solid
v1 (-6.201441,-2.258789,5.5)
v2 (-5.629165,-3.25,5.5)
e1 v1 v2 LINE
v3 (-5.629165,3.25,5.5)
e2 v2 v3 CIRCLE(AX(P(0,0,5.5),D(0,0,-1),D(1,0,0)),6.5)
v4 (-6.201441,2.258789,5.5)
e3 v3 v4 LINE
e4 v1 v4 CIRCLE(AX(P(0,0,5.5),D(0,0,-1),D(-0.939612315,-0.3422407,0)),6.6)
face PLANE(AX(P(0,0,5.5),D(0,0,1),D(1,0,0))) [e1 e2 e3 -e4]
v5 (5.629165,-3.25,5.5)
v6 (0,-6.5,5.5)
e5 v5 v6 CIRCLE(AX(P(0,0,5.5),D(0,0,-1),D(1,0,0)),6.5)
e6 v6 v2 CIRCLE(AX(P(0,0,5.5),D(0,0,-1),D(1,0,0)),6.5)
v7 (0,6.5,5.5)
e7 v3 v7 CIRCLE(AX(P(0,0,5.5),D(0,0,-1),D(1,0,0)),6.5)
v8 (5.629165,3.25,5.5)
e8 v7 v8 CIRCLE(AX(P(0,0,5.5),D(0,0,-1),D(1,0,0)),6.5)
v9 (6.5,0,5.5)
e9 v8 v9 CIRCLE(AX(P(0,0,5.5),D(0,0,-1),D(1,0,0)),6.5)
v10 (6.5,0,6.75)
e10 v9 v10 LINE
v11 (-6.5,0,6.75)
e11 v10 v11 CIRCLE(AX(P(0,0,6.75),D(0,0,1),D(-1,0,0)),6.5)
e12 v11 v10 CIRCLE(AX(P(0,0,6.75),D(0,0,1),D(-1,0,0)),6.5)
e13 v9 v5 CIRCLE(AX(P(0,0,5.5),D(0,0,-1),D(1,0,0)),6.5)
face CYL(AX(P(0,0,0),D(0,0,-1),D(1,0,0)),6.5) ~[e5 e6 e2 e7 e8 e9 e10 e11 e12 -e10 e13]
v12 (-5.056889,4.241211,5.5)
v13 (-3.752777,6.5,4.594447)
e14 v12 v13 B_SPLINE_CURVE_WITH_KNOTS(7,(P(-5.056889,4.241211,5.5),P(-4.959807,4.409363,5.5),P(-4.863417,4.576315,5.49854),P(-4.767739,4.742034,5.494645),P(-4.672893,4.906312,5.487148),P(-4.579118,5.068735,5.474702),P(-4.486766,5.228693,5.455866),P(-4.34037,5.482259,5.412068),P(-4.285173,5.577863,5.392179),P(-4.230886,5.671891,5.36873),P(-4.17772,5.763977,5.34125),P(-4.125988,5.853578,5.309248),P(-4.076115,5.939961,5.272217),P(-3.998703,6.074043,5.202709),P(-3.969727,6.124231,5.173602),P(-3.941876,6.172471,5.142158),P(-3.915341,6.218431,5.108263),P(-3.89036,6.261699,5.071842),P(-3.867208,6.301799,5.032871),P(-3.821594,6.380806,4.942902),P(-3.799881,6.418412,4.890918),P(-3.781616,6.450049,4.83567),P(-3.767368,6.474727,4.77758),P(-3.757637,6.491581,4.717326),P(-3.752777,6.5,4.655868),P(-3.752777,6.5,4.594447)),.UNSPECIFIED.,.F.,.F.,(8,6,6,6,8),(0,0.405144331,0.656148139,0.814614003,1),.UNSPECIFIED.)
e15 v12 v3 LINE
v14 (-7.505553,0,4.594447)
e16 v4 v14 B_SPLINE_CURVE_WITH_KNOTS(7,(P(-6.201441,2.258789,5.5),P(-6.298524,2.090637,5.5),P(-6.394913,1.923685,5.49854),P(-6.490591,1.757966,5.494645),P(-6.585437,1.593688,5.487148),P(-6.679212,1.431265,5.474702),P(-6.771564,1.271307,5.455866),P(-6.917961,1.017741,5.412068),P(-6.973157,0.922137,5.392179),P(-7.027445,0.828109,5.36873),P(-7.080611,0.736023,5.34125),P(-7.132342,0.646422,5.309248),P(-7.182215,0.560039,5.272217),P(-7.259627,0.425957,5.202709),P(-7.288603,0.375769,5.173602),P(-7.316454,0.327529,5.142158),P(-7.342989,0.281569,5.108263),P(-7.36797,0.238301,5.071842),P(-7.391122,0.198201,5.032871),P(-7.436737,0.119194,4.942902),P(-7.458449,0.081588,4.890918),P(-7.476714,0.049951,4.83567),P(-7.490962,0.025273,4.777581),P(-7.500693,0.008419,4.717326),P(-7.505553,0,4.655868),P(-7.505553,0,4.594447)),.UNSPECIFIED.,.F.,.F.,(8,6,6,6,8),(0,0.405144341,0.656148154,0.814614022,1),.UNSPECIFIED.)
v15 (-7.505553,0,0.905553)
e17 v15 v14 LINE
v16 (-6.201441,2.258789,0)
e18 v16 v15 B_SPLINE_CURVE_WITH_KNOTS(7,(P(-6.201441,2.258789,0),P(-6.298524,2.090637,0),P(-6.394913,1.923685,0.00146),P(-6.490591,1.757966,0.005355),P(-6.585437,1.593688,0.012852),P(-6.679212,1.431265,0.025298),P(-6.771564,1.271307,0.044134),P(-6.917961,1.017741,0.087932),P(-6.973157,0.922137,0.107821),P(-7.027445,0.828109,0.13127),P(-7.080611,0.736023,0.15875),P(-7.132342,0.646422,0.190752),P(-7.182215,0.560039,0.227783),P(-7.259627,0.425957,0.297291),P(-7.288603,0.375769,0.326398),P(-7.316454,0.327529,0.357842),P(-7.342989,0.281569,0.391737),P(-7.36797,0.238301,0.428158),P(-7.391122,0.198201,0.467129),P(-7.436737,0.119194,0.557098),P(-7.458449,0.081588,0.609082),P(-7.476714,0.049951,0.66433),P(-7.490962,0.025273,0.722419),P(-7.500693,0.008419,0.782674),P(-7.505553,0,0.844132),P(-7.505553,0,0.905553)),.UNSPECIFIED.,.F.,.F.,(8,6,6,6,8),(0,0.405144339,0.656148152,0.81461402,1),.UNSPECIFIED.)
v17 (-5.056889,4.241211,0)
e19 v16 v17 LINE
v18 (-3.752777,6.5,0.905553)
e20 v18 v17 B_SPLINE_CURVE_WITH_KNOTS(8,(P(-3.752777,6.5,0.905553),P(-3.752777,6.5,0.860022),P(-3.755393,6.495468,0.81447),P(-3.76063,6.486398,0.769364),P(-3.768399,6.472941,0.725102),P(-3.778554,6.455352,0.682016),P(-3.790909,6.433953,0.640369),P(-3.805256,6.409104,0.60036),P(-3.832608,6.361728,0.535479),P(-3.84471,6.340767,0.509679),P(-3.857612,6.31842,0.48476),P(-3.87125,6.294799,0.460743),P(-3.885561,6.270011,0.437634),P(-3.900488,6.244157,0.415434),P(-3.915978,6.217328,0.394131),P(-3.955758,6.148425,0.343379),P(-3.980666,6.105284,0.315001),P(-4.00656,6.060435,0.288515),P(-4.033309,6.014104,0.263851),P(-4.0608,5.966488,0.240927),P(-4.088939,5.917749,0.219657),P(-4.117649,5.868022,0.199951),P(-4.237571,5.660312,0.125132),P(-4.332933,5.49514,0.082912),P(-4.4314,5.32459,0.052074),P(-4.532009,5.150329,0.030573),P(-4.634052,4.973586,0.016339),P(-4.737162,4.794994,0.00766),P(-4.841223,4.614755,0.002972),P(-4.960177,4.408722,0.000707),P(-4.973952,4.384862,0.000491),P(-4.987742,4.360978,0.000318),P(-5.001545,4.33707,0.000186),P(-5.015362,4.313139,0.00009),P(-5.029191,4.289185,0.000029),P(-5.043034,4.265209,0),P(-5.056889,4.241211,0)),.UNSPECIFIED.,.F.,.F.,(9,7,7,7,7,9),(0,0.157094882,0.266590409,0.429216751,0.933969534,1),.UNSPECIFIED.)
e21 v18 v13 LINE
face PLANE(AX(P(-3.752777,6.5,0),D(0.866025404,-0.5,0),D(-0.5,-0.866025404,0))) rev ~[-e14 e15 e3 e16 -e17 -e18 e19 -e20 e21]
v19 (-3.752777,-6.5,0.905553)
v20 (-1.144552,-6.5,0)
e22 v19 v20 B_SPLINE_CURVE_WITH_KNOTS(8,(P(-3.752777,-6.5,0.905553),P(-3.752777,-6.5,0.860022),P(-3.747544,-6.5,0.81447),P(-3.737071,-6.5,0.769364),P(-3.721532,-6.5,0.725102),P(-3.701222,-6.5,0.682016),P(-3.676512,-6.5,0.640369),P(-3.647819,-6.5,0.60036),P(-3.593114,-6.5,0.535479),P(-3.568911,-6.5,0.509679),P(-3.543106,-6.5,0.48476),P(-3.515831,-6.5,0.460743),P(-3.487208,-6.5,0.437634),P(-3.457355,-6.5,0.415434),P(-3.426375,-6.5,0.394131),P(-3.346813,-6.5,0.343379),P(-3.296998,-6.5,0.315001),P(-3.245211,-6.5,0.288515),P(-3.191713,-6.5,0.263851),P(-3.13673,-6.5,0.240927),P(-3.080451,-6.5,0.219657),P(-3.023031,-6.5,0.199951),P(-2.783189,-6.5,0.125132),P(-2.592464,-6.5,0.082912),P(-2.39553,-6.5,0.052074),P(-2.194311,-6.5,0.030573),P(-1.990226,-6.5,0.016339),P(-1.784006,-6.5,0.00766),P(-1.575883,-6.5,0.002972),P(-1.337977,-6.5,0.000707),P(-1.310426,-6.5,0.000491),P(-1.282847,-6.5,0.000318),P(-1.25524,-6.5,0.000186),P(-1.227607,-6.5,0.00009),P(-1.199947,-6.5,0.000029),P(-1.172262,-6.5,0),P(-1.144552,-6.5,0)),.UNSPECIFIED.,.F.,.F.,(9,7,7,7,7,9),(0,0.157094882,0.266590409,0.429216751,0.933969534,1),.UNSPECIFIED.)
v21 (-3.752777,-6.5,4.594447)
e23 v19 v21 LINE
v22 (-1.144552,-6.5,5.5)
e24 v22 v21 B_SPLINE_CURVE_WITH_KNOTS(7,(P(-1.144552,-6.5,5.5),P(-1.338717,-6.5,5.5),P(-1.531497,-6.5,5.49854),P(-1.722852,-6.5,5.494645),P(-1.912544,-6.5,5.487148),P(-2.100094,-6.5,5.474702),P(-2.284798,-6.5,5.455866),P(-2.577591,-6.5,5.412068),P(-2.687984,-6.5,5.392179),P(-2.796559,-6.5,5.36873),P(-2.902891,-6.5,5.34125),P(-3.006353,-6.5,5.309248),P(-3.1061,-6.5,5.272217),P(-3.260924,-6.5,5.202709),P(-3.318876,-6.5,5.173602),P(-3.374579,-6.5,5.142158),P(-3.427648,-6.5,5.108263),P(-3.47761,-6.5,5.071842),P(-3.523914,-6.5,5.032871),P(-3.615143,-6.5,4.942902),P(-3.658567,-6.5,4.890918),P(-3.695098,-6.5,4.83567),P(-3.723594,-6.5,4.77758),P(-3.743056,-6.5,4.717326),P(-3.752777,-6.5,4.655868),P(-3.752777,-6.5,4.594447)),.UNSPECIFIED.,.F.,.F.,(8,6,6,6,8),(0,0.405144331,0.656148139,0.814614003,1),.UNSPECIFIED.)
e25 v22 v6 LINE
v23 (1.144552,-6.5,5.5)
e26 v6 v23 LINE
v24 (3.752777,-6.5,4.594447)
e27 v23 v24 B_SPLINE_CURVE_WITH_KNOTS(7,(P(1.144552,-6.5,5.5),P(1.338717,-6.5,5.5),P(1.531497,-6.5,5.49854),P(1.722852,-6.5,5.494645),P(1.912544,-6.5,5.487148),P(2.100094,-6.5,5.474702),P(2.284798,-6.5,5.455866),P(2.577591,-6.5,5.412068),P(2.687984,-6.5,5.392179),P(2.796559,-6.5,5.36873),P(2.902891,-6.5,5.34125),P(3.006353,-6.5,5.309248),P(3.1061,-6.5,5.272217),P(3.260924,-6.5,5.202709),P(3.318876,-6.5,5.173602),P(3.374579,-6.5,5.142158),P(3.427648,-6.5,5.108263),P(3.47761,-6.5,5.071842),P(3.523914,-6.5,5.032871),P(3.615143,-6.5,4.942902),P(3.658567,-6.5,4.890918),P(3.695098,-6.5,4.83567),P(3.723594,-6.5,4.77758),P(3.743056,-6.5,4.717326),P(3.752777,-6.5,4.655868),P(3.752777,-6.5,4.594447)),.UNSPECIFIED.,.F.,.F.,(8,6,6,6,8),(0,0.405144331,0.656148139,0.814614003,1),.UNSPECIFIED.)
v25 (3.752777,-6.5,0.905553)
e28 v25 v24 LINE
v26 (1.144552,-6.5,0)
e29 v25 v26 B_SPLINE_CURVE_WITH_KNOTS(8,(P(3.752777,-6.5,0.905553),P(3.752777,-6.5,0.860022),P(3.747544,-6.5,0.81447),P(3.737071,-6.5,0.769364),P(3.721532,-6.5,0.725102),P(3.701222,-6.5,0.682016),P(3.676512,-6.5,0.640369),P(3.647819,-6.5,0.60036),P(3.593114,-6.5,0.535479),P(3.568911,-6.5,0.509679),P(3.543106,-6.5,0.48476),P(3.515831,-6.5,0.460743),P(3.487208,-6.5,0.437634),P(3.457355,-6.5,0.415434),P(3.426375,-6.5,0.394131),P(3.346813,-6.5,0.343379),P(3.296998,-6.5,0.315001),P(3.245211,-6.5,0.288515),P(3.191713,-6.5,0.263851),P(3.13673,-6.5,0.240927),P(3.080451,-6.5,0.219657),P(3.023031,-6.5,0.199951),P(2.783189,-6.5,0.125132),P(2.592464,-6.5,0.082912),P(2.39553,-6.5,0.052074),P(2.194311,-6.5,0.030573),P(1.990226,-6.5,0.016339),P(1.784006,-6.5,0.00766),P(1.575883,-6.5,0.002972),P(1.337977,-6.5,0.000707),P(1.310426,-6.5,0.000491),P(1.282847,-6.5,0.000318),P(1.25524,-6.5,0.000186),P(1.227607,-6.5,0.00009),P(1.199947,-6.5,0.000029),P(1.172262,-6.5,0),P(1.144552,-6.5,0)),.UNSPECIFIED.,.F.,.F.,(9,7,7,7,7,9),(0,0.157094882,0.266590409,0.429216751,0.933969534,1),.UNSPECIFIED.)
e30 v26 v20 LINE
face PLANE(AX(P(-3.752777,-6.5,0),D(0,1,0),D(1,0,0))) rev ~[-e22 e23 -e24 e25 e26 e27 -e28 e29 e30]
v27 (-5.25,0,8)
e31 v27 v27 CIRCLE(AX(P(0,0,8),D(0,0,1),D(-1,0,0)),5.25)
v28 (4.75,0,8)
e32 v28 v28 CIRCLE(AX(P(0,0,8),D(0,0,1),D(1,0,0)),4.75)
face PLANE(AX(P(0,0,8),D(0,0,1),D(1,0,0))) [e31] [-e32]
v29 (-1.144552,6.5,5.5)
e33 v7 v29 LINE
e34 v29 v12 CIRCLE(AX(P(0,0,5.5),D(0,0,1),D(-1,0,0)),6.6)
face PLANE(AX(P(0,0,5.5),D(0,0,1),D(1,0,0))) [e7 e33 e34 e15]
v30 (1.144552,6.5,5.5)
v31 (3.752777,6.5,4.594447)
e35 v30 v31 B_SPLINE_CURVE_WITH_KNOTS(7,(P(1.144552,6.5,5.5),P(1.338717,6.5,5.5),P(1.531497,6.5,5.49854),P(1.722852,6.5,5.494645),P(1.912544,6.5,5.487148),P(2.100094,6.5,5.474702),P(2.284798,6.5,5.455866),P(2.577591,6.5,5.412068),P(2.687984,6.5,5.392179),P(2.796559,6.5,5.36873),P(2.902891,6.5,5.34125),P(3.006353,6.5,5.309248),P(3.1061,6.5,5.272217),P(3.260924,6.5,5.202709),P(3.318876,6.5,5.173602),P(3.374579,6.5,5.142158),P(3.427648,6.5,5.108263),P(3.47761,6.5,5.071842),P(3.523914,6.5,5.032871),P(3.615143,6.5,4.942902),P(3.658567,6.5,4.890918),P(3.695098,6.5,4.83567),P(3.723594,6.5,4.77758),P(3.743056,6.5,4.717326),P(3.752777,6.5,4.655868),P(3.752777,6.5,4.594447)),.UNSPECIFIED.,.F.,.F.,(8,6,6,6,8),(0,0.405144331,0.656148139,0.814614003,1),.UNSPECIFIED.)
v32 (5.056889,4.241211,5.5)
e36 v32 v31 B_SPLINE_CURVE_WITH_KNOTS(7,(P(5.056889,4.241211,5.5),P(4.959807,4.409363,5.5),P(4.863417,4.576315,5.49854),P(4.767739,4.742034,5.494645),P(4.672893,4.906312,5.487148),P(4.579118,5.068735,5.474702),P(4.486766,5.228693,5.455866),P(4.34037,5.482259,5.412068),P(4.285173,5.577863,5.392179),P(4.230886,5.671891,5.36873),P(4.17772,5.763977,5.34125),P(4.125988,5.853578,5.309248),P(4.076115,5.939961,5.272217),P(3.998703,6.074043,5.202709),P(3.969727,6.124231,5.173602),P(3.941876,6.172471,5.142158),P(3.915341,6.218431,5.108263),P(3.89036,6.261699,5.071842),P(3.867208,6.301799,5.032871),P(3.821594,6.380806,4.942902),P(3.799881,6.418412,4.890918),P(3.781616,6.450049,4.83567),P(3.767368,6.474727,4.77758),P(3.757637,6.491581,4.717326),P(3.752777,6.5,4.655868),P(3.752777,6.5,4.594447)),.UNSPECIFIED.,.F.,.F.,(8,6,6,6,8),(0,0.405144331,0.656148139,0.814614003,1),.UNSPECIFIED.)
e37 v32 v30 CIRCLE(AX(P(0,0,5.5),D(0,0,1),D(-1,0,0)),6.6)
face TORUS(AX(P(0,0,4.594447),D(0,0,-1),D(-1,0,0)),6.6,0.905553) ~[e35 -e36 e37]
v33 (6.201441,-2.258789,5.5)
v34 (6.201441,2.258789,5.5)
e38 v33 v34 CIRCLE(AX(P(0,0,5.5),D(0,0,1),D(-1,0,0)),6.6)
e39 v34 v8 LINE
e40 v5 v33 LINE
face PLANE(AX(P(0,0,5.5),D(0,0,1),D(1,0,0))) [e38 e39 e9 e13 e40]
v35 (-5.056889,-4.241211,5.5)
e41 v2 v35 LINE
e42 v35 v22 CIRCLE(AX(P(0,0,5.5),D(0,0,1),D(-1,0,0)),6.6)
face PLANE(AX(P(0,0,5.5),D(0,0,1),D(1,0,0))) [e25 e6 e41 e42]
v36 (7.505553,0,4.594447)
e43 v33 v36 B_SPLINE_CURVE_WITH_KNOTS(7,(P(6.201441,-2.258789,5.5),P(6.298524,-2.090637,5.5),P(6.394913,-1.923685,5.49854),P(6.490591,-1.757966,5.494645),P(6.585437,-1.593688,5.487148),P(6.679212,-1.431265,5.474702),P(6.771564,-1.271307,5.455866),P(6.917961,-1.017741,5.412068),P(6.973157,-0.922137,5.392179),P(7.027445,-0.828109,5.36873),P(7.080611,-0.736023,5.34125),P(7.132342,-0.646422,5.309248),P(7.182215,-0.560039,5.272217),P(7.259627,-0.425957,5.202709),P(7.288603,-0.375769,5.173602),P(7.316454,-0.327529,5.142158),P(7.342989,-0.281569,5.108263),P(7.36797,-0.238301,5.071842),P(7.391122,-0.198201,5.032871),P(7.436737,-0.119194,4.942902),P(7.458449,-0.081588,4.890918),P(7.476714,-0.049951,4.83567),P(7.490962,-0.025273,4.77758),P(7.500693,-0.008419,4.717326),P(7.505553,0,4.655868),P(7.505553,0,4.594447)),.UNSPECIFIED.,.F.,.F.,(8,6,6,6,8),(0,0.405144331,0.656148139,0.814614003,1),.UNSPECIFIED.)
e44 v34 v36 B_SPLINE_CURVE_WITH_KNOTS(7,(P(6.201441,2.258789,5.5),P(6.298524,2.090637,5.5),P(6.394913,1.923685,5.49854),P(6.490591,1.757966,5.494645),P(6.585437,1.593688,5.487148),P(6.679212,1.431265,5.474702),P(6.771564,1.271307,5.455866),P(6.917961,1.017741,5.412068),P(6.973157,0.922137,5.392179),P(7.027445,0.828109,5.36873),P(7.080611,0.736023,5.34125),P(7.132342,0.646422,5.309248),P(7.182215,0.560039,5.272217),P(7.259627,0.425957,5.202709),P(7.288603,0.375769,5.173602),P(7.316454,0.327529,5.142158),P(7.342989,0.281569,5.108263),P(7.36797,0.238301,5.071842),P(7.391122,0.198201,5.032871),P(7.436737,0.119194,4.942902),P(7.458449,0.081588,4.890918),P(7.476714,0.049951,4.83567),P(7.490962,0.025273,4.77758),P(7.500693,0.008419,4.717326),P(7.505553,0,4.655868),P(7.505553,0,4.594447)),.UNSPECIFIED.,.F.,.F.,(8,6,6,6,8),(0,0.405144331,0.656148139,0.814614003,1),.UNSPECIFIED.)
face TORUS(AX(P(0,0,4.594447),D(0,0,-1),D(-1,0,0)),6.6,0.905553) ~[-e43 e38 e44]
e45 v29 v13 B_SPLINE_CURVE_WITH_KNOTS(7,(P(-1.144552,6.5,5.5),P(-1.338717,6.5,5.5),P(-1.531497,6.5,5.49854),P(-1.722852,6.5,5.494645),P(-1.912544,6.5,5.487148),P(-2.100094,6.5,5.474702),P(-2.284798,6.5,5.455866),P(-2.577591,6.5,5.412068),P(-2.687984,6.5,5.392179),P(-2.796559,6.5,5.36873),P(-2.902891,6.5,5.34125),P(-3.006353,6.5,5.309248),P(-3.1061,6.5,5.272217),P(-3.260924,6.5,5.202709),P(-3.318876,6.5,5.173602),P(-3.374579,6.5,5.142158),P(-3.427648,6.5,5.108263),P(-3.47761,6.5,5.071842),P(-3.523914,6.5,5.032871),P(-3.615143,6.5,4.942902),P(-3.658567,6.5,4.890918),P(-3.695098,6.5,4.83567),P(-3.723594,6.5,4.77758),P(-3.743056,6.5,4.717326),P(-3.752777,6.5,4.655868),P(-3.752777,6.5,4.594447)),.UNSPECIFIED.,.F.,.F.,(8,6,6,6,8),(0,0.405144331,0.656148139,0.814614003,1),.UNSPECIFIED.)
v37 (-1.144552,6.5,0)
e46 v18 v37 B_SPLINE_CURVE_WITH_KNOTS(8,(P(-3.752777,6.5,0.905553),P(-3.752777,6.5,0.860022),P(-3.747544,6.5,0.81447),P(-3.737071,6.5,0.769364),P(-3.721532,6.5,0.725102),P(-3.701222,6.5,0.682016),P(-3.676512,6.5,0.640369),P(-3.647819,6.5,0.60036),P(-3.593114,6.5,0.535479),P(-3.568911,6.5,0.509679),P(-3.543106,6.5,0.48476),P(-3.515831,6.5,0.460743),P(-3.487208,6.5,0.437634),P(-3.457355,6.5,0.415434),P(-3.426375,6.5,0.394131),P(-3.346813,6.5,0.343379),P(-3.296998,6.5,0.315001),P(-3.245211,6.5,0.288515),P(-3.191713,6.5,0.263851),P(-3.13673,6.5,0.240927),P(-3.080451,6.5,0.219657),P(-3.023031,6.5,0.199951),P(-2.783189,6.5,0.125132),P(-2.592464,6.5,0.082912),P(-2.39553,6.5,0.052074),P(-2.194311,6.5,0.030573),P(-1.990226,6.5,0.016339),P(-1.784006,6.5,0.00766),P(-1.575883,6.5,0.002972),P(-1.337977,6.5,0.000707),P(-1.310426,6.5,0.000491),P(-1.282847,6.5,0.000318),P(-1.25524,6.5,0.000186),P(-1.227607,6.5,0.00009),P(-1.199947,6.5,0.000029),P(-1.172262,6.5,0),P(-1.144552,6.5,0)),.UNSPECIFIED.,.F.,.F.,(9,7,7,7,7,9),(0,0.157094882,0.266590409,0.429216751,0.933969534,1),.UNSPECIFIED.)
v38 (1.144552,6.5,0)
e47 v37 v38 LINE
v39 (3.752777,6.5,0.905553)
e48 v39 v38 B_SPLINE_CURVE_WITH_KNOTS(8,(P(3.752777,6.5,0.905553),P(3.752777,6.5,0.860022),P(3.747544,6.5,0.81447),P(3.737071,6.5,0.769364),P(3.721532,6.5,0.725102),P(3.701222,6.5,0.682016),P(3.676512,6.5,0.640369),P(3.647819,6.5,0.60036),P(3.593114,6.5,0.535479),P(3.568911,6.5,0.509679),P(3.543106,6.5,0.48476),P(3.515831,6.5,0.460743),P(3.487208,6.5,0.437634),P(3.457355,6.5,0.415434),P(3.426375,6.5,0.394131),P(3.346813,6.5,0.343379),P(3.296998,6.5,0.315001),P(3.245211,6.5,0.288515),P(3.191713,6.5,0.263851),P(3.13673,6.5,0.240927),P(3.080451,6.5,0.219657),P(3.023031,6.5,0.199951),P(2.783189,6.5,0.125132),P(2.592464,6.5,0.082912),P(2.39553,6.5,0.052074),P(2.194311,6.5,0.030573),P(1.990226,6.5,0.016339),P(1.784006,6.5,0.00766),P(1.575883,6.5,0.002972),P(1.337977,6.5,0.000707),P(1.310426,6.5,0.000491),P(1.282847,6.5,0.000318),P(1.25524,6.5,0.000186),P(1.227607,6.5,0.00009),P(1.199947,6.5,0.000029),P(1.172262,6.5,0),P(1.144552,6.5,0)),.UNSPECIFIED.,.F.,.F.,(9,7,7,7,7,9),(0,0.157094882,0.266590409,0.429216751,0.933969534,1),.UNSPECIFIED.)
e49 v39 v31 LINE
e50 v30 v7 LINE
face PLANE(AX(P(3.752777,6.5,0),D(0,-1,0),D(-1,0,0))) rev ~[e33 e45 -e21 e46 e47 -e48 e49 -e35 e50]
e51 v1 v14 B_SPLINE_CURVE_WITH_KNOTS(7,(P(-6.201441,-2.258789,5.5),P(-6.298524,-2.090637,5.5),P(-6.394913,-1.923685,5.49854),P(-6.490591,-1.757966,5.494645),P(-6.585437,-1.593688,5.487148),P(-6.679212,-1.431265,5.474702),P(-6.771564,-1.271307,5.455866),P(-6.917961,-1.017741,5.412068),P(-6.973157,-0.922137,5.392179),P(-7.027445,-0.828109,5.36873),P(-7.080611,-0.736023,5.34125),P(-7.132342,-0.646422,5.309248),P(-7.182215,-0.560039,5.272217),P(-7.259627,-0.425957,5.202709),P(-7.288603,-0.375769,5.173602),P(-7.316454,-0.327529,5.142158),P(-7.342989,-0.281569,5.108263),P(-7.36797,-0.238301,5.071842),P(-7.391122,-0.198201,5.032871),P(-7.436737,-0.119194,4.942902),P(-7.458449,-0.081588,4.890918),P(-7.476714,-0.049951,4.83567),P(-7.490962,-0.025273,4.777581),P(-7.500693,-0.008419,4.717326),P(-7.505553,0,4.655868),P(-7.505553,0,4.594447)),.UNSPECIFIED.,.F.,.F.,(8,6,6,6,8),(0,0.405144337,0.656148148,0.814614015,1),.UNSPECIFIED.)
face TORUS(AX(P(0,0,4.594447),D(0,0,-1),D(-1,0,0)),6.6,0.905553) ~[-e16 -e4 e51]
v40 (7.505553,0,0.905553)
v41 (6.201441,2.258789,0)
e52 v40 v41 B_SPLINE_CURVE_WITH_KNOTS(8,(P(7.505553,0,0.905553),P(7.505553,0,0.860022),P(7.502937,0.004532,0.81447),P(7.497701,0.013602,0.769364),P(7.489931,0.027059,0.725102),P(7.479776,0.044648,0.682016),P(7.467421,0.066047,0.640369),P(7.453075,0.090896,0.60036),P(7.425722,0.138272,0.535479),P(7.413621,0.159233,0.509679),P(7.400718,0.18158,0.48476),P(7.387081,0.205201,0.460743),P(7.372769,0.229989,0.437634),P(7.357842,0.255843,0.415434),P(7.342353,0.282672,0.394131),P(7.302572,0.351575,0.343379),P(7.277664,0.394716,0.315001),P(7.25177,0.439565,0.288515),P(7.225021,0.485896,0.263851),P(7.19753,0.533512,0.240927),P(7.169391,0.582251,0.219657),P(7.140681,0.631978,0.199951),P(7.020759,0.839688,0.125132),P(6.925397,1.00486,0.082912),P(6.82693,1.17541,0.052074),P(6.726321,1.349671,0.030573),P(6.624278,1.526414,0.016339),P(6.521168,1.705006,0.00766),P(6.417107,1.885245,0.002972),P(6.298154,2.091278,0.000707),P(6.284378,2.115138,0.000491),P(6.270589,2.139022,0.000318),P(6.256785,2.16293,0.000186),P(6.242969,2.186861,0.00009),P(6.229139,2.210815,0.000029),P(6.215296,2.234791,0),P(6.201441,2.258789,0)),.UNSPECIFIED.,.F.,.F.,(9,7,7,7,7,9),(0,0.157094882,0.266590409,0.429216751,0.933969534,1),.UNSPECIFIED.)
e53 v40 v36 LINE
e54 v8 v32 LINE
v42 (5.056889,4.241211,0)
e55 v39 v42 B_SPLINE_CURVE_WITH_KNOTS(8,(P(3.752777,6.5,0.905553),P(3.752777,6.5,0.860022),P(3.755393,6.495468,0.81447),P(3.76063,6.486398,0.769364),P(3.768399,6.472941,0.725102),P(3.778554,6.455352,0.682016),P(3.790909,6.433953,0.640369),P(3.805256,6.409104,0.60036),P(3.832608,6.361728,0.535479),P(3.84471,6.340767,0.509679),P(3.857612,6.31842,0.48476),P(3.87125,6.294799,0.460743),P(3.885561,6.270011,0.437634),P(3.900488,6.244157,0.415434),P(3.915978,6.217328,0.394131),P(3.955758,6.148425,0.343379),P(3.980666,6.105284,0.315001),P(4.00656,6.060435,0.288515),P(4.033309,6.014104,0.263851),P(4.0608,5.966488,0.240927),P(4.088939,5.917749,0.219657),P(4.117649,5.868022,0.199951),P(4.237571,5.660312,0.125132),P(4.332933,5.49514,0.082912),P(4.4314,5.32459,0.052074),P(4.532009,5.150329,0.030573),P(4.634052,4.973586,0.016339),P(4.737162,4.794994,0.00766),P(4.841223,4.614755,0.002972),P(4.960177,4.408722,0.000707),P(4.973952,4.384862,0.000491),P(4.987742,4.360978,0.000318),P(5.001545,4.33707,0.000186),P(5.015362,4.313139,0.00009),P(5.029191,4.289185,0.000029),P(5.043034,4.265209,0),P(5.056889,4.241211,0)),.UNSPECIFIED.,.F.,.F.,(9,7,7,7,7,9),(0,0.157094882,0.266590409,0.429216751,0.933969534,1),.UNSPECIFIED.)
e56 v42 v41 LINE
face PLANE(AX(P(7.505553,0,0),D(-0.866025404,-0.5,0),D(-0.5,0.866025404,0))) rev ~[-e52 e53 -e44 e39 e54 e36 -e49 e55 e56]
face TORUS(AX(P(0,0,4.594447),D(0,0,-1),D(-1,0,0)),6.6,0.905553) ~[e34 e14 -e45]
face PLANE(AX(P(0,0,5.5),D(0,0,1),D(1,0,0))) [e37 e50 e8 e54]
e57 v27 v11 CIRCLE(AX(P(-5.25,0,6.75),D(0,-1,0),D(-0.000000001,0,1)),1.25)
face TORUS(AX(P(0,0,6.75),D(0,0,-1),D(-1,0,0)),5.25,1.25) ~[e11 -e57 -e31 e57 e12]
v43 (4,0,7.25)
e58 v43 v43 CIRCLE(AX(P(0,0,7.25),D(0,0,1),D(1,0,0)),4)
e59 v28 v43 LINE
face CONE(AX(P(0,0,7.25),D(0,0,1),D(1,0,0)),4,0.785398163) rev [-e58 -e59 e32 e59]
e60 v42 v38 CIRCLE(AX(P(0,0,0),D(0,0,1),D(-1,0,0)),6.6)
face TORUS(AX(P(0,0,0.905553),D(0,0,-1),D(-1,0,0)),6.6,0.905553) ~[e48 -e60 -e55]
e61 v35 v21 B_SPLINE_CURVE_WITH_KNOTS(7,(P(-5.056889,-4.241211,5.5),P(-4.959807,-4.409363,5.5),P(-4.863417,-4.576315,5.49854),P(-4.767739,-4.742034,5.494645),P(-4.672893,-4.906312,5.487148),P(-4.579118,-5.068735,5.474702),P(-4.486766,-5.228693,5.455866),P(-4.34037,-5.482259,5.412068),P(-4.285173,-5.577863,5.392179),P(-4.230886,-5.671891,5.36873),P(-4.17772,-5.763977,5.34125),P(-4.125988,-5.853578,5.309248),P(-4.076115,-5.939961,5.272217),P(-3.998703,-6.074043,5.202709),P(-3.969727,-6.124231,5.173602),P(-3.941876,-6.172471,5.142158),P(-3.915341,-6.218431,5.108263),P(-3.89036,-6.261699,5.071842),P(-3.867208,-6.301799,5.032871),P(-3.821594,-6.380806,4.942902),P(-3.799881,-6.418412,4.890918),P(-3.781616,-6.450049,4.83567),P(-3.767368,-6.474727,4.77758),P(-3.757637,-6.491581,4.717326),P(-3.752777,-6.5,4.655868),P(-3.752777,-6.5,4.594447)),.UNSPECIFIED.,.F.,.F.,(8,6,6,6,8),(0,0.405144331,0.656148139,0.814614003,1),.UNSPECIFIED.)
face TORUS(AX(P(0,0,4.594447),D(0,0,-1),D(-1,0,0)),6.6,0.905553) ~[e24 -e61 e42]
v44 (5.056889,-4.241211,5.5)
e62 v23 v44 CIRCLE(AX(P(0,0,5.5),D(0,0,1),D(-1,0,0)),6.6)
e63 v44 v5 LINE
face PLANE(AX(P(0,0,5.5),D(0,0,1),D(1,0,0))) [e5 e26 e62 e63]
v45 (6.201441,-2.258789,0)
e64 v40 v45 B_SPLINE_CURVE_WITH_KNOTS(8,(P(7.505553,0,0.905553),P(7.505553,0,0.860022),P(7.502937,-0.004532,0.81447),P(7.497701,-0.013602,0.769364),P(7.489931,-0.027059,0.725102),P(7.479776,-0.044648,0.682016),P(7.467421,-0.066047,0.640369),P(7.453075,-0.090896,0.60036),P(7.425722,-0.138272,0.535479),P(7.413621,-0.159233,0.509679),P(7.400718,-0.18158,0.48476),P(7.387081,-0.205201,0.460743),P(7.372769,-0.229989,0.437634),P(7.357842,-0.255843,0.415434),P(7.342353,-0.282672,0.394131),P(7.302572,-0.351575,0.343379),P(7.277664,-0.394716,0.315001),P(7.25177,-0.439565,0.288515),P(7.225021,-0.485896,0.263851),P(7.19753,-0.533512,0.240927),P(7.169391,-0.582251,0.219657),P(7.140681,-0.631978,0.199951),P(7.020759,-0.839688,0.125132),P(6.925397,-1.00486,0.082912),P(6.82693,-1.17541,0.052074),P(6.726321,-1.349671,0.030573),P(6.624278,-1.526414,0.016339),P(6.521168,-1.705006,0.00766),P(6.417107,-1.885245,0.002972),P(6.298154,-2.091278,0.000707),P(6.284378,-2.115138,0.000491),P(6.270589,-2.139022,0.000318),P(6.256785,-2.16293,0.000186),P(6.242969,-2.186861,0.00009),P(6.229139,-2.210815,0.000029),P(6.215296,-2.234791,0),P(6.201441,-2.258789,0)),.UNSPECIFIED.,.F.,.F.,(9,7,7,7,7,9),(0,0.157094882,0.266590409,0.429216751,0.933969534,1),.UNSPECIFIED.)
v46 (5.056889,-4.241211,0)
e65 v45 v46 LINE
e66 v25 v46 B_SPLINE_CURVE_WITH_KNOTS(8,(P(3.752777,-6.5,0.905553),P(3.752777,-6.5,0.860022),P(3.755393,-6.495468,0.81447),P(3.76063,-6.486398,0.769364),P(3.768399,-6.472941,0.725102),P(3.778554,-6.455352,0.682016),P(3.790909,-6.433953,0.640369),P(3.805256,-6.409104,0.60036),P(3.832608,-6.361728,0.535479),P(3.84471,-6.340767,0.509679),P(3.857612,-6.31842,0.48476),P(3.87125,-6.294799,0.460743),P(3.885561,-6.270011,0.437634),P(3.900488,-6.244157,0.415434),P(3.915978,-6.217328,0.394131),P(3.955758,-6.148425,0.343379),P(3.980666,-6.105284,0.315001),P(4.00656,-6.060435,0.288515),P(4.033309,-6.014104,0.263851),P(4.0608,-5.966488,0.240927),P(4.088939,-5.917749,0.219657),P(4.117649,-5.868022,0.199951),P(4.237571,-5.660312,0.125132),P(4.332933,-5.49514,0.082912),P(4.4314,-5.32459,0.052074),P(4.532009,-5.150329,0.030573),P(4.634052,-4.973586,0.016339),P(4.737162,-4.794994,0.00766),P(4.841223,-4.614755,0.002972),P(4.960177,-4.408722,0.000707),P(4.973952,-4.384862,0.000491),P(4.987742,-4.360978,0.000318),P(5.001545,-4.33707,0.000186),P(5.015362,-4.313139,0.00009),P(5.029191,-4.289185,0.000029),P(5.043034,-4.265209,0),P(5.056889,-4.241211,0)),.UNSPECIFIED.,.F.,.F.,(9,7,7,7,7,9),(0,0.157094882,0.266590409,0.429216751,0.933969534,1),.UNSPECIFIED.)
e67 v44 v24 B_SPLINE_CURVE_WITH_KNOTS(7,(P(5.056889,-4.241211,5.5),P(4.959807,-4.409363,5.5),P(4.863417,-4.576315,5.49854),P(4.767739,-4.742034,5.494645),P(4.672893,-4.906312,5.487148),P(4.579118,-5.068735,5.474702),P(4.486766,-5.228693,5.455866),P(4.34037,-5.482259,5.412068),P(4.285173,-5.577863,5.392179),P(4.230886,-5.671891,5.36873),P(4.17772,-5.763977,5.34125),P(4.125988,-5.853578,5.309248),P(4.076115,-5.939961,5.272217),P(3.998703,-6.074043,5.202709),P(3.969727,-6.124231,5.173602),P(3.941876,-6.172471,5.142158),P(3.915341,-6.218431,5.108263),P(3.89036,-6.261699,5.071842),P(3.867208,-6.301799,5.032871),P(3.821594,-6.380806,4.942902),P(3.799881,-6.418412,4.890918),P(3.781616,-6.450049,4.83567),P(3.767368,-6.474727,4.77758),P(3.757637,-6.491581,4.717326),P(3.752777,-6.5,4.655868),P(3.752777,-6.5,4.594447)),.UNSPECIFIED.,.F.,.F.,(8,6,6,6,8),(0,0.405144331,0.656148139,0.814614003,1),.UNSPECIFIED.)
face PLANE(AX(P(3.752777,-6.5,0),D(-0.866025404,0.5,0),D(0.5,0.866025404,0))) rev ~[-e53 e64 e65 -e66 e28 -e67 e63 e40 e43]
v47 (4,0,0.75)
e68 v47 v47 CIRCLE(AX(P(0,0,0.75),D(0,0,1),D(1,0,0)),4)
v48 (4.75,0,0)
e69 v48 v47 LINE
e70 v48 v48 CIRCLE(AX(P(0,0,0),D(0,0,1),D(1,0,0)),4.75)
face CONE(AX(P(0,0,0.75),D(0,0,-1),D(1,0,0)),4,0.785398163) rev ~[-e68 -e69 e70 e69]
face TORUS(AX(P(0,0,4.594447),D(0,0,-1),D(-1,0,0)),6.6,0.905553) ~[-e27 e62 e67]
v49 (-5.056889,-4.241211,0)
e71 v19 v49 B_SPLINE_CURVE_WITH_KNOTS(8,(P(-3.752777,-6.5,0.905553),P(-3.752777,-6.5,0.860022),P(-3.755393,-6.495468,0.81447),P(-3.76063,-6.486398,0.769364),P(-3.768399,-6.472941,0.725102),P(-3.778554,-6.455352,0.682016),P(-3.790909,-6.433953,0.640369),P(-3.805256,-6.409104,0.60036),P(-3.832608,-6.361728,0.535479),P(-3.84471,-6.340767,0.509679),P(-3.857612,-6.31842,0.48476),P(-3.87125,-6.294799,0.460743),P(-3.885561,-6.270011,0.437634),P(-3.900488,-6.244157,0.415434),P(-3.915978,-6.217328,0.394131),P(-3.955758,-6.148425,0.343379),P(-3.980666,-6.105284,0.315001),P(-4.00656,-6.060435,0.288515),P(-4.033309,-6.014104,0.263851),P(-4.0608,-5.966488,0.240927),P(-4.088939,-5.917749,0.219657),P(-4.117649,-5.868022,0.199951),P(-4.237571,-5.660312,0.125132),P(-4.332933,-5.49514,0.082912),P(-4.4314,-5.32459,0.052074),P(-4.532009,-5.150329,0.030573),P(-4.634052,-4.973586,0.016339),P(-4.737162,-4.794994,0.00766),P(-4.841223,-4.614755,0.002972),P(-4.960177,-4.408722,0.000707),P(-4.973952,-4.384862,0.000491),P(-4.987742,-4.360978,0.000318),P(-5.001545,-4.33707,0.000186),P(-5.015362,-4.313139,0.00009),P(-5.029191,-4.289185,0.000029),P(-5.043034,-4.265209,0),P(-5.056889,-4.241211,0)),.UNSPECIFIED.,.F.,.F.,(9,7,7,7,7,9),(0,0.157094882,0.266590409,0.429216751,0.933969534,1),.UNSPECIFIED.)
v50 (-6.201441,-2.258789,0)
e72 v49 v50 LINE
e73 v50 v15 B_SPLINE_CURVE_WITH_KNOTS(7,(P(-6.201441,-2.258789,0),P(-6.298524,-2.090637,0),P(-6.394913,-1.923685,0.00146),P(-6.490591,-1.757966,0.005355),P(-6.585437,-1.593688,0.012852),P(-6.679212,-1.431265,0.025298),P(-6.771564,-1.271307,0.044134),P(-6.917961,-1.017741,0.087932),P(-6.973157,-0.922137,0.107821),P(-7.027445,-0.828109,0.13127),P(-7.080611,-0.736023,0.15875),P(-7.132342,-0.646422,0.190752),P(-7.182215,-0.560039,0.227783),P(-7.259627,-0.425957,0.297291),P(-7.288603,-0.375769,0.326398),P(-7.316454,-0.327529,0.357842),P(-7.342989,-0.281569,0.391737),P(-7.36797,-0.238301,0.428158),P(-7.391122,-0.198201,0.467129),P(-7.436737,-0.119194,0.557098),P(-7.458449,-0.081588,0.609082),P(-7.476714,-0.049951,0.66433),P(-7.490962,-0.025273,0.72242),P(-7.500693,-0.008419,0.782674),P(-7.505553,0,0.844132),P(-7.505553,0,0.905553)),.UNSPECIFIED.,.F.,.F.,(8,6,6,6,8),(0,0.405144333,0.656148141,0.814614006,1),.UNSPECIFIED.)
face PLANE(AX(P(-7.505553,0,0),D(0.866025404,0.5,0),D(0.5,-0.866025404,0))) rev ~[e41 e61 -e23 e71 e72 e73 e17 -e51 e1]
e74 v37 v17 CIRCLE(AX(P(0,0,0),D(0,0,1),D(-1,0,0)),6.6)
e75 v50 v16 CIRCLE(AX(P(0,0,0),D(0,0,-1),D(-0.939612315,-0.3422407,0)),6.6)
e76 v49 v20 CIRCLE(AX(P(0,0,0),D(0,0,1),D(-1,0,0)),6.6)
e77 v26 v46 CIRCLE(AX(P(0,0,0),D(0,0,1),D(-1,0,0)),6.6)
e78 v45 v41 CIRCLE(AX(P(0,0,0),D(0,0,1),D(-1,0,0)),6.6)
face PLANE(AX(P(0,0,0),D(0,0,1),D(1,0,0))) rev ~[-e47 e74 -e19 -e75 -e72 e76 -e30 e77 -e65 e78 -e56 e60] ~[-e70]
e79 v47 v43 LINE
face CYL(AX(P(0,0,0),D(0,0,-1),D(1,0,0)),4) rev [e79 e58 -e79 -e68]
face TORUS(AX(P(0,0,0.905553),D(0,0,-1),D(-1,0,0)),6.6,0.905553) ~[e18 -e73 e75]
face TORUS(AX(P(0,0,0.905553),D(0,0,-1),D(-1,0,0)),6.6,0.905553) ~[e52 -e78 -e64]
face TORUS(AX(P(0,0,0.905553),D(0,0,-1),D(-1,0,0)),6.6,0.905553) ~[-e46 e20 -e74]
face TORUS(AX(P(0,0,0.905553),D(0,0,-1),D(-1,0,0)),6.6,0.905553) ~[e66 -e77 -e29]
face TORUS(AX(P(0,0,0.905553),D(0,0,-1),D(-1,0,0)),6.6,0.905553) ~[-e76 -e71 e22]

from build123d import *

# Parameters (mm, degrees)
SZKIC1_R                    = 4
DODANIE_WYCI_GNI_CIE1_DEPTH = 5.5
SZKIC2_R                    = 6.5
SZKIC2_R_2                  = 4
DODANIE_WYCI_GNI_CIE2_DEPTH = 8
SFAZOWANIE1_SIZE            = 0.75


with BuildPart() as part:
    # Szkic1 → Dodanie-wyciągnięcie1 (new body)
    with BuildSketch(Plane.XY):
        Polygon((-7.505553499, 0), (-3.75277675, -6.5), (3.75277675, -6.5), (7.505553499, 0), (3.75277675, 6.5), (-3.75277675, 6.5), align=None)
        Circle(SZKIC1_R, mode=Mode.SUBTRACT)
    extrude(amount=DODANIE_WYCI_GNI_CIE1_DEPTH)

    # Szkic2 → Dodanie-wyciągnięcie2 (add)
    with BuildSketch(Plane.XY):
        Circle(SZKIC2_R)
        Circle(SZKIC2_R_2, mode=Mode.SUBTRACT)
    extrude(amount=DODANIE_WYCI_GNI_CIE2_DEPTH)

    # Sfazowanie1
    sfazowanie1_edges = [part.edges().sort_by_distance(p)[0] for p in [
        (-4, 0, 0),
        (-4, 0, 8),
    ]]
    chamfer(sfazowanie1_edges, length=SFAZOWANIE1_SIZE)

    # Szkic3 → Wycięcie-obrót1 (revolve, cut)
    with BuildSketch(Plane(origin=(0, 0, 0), x_dir=(1, 0, 0), z_dir=(0, 1, 0))):
        with BuildLine():
            Line((-7.505553499, 0), (-7.505553499, -0.905553499))
            ThreePointArc((-7.505553499, -0.905553499), (-7.24032302, -0.265230479), (-6.6, 0))
            Line((-6.6, 0), (-7.505553499, 0))
        make_face()
        with BuildLine():
            ThreePointArc((-6.6, -5.5), (-7.24032302, -5.234769521), (-7.505553499, -4.594446501))
            Line((-7.505553499, -4.594446501), (-7.505553499, -5.5))
            Line((-7.505553499, -5.5), (-6.6, -5.5))
        make_face()
        with BuildLine():
            Line((-6.5, -8), (-5.25, -8))
            ThreePointArc((-5.25, -8), (-6.133883476, -7.633883476), (-6.5, -6.75))
            Line((-6.5, -6.75), (-6.5, -8))
        make_face()
    revolve(axis=Axis((0, 0, -1.701574894), (0, 0, 1)), mode=Mode.SUBTRACT)


solid = part.part
